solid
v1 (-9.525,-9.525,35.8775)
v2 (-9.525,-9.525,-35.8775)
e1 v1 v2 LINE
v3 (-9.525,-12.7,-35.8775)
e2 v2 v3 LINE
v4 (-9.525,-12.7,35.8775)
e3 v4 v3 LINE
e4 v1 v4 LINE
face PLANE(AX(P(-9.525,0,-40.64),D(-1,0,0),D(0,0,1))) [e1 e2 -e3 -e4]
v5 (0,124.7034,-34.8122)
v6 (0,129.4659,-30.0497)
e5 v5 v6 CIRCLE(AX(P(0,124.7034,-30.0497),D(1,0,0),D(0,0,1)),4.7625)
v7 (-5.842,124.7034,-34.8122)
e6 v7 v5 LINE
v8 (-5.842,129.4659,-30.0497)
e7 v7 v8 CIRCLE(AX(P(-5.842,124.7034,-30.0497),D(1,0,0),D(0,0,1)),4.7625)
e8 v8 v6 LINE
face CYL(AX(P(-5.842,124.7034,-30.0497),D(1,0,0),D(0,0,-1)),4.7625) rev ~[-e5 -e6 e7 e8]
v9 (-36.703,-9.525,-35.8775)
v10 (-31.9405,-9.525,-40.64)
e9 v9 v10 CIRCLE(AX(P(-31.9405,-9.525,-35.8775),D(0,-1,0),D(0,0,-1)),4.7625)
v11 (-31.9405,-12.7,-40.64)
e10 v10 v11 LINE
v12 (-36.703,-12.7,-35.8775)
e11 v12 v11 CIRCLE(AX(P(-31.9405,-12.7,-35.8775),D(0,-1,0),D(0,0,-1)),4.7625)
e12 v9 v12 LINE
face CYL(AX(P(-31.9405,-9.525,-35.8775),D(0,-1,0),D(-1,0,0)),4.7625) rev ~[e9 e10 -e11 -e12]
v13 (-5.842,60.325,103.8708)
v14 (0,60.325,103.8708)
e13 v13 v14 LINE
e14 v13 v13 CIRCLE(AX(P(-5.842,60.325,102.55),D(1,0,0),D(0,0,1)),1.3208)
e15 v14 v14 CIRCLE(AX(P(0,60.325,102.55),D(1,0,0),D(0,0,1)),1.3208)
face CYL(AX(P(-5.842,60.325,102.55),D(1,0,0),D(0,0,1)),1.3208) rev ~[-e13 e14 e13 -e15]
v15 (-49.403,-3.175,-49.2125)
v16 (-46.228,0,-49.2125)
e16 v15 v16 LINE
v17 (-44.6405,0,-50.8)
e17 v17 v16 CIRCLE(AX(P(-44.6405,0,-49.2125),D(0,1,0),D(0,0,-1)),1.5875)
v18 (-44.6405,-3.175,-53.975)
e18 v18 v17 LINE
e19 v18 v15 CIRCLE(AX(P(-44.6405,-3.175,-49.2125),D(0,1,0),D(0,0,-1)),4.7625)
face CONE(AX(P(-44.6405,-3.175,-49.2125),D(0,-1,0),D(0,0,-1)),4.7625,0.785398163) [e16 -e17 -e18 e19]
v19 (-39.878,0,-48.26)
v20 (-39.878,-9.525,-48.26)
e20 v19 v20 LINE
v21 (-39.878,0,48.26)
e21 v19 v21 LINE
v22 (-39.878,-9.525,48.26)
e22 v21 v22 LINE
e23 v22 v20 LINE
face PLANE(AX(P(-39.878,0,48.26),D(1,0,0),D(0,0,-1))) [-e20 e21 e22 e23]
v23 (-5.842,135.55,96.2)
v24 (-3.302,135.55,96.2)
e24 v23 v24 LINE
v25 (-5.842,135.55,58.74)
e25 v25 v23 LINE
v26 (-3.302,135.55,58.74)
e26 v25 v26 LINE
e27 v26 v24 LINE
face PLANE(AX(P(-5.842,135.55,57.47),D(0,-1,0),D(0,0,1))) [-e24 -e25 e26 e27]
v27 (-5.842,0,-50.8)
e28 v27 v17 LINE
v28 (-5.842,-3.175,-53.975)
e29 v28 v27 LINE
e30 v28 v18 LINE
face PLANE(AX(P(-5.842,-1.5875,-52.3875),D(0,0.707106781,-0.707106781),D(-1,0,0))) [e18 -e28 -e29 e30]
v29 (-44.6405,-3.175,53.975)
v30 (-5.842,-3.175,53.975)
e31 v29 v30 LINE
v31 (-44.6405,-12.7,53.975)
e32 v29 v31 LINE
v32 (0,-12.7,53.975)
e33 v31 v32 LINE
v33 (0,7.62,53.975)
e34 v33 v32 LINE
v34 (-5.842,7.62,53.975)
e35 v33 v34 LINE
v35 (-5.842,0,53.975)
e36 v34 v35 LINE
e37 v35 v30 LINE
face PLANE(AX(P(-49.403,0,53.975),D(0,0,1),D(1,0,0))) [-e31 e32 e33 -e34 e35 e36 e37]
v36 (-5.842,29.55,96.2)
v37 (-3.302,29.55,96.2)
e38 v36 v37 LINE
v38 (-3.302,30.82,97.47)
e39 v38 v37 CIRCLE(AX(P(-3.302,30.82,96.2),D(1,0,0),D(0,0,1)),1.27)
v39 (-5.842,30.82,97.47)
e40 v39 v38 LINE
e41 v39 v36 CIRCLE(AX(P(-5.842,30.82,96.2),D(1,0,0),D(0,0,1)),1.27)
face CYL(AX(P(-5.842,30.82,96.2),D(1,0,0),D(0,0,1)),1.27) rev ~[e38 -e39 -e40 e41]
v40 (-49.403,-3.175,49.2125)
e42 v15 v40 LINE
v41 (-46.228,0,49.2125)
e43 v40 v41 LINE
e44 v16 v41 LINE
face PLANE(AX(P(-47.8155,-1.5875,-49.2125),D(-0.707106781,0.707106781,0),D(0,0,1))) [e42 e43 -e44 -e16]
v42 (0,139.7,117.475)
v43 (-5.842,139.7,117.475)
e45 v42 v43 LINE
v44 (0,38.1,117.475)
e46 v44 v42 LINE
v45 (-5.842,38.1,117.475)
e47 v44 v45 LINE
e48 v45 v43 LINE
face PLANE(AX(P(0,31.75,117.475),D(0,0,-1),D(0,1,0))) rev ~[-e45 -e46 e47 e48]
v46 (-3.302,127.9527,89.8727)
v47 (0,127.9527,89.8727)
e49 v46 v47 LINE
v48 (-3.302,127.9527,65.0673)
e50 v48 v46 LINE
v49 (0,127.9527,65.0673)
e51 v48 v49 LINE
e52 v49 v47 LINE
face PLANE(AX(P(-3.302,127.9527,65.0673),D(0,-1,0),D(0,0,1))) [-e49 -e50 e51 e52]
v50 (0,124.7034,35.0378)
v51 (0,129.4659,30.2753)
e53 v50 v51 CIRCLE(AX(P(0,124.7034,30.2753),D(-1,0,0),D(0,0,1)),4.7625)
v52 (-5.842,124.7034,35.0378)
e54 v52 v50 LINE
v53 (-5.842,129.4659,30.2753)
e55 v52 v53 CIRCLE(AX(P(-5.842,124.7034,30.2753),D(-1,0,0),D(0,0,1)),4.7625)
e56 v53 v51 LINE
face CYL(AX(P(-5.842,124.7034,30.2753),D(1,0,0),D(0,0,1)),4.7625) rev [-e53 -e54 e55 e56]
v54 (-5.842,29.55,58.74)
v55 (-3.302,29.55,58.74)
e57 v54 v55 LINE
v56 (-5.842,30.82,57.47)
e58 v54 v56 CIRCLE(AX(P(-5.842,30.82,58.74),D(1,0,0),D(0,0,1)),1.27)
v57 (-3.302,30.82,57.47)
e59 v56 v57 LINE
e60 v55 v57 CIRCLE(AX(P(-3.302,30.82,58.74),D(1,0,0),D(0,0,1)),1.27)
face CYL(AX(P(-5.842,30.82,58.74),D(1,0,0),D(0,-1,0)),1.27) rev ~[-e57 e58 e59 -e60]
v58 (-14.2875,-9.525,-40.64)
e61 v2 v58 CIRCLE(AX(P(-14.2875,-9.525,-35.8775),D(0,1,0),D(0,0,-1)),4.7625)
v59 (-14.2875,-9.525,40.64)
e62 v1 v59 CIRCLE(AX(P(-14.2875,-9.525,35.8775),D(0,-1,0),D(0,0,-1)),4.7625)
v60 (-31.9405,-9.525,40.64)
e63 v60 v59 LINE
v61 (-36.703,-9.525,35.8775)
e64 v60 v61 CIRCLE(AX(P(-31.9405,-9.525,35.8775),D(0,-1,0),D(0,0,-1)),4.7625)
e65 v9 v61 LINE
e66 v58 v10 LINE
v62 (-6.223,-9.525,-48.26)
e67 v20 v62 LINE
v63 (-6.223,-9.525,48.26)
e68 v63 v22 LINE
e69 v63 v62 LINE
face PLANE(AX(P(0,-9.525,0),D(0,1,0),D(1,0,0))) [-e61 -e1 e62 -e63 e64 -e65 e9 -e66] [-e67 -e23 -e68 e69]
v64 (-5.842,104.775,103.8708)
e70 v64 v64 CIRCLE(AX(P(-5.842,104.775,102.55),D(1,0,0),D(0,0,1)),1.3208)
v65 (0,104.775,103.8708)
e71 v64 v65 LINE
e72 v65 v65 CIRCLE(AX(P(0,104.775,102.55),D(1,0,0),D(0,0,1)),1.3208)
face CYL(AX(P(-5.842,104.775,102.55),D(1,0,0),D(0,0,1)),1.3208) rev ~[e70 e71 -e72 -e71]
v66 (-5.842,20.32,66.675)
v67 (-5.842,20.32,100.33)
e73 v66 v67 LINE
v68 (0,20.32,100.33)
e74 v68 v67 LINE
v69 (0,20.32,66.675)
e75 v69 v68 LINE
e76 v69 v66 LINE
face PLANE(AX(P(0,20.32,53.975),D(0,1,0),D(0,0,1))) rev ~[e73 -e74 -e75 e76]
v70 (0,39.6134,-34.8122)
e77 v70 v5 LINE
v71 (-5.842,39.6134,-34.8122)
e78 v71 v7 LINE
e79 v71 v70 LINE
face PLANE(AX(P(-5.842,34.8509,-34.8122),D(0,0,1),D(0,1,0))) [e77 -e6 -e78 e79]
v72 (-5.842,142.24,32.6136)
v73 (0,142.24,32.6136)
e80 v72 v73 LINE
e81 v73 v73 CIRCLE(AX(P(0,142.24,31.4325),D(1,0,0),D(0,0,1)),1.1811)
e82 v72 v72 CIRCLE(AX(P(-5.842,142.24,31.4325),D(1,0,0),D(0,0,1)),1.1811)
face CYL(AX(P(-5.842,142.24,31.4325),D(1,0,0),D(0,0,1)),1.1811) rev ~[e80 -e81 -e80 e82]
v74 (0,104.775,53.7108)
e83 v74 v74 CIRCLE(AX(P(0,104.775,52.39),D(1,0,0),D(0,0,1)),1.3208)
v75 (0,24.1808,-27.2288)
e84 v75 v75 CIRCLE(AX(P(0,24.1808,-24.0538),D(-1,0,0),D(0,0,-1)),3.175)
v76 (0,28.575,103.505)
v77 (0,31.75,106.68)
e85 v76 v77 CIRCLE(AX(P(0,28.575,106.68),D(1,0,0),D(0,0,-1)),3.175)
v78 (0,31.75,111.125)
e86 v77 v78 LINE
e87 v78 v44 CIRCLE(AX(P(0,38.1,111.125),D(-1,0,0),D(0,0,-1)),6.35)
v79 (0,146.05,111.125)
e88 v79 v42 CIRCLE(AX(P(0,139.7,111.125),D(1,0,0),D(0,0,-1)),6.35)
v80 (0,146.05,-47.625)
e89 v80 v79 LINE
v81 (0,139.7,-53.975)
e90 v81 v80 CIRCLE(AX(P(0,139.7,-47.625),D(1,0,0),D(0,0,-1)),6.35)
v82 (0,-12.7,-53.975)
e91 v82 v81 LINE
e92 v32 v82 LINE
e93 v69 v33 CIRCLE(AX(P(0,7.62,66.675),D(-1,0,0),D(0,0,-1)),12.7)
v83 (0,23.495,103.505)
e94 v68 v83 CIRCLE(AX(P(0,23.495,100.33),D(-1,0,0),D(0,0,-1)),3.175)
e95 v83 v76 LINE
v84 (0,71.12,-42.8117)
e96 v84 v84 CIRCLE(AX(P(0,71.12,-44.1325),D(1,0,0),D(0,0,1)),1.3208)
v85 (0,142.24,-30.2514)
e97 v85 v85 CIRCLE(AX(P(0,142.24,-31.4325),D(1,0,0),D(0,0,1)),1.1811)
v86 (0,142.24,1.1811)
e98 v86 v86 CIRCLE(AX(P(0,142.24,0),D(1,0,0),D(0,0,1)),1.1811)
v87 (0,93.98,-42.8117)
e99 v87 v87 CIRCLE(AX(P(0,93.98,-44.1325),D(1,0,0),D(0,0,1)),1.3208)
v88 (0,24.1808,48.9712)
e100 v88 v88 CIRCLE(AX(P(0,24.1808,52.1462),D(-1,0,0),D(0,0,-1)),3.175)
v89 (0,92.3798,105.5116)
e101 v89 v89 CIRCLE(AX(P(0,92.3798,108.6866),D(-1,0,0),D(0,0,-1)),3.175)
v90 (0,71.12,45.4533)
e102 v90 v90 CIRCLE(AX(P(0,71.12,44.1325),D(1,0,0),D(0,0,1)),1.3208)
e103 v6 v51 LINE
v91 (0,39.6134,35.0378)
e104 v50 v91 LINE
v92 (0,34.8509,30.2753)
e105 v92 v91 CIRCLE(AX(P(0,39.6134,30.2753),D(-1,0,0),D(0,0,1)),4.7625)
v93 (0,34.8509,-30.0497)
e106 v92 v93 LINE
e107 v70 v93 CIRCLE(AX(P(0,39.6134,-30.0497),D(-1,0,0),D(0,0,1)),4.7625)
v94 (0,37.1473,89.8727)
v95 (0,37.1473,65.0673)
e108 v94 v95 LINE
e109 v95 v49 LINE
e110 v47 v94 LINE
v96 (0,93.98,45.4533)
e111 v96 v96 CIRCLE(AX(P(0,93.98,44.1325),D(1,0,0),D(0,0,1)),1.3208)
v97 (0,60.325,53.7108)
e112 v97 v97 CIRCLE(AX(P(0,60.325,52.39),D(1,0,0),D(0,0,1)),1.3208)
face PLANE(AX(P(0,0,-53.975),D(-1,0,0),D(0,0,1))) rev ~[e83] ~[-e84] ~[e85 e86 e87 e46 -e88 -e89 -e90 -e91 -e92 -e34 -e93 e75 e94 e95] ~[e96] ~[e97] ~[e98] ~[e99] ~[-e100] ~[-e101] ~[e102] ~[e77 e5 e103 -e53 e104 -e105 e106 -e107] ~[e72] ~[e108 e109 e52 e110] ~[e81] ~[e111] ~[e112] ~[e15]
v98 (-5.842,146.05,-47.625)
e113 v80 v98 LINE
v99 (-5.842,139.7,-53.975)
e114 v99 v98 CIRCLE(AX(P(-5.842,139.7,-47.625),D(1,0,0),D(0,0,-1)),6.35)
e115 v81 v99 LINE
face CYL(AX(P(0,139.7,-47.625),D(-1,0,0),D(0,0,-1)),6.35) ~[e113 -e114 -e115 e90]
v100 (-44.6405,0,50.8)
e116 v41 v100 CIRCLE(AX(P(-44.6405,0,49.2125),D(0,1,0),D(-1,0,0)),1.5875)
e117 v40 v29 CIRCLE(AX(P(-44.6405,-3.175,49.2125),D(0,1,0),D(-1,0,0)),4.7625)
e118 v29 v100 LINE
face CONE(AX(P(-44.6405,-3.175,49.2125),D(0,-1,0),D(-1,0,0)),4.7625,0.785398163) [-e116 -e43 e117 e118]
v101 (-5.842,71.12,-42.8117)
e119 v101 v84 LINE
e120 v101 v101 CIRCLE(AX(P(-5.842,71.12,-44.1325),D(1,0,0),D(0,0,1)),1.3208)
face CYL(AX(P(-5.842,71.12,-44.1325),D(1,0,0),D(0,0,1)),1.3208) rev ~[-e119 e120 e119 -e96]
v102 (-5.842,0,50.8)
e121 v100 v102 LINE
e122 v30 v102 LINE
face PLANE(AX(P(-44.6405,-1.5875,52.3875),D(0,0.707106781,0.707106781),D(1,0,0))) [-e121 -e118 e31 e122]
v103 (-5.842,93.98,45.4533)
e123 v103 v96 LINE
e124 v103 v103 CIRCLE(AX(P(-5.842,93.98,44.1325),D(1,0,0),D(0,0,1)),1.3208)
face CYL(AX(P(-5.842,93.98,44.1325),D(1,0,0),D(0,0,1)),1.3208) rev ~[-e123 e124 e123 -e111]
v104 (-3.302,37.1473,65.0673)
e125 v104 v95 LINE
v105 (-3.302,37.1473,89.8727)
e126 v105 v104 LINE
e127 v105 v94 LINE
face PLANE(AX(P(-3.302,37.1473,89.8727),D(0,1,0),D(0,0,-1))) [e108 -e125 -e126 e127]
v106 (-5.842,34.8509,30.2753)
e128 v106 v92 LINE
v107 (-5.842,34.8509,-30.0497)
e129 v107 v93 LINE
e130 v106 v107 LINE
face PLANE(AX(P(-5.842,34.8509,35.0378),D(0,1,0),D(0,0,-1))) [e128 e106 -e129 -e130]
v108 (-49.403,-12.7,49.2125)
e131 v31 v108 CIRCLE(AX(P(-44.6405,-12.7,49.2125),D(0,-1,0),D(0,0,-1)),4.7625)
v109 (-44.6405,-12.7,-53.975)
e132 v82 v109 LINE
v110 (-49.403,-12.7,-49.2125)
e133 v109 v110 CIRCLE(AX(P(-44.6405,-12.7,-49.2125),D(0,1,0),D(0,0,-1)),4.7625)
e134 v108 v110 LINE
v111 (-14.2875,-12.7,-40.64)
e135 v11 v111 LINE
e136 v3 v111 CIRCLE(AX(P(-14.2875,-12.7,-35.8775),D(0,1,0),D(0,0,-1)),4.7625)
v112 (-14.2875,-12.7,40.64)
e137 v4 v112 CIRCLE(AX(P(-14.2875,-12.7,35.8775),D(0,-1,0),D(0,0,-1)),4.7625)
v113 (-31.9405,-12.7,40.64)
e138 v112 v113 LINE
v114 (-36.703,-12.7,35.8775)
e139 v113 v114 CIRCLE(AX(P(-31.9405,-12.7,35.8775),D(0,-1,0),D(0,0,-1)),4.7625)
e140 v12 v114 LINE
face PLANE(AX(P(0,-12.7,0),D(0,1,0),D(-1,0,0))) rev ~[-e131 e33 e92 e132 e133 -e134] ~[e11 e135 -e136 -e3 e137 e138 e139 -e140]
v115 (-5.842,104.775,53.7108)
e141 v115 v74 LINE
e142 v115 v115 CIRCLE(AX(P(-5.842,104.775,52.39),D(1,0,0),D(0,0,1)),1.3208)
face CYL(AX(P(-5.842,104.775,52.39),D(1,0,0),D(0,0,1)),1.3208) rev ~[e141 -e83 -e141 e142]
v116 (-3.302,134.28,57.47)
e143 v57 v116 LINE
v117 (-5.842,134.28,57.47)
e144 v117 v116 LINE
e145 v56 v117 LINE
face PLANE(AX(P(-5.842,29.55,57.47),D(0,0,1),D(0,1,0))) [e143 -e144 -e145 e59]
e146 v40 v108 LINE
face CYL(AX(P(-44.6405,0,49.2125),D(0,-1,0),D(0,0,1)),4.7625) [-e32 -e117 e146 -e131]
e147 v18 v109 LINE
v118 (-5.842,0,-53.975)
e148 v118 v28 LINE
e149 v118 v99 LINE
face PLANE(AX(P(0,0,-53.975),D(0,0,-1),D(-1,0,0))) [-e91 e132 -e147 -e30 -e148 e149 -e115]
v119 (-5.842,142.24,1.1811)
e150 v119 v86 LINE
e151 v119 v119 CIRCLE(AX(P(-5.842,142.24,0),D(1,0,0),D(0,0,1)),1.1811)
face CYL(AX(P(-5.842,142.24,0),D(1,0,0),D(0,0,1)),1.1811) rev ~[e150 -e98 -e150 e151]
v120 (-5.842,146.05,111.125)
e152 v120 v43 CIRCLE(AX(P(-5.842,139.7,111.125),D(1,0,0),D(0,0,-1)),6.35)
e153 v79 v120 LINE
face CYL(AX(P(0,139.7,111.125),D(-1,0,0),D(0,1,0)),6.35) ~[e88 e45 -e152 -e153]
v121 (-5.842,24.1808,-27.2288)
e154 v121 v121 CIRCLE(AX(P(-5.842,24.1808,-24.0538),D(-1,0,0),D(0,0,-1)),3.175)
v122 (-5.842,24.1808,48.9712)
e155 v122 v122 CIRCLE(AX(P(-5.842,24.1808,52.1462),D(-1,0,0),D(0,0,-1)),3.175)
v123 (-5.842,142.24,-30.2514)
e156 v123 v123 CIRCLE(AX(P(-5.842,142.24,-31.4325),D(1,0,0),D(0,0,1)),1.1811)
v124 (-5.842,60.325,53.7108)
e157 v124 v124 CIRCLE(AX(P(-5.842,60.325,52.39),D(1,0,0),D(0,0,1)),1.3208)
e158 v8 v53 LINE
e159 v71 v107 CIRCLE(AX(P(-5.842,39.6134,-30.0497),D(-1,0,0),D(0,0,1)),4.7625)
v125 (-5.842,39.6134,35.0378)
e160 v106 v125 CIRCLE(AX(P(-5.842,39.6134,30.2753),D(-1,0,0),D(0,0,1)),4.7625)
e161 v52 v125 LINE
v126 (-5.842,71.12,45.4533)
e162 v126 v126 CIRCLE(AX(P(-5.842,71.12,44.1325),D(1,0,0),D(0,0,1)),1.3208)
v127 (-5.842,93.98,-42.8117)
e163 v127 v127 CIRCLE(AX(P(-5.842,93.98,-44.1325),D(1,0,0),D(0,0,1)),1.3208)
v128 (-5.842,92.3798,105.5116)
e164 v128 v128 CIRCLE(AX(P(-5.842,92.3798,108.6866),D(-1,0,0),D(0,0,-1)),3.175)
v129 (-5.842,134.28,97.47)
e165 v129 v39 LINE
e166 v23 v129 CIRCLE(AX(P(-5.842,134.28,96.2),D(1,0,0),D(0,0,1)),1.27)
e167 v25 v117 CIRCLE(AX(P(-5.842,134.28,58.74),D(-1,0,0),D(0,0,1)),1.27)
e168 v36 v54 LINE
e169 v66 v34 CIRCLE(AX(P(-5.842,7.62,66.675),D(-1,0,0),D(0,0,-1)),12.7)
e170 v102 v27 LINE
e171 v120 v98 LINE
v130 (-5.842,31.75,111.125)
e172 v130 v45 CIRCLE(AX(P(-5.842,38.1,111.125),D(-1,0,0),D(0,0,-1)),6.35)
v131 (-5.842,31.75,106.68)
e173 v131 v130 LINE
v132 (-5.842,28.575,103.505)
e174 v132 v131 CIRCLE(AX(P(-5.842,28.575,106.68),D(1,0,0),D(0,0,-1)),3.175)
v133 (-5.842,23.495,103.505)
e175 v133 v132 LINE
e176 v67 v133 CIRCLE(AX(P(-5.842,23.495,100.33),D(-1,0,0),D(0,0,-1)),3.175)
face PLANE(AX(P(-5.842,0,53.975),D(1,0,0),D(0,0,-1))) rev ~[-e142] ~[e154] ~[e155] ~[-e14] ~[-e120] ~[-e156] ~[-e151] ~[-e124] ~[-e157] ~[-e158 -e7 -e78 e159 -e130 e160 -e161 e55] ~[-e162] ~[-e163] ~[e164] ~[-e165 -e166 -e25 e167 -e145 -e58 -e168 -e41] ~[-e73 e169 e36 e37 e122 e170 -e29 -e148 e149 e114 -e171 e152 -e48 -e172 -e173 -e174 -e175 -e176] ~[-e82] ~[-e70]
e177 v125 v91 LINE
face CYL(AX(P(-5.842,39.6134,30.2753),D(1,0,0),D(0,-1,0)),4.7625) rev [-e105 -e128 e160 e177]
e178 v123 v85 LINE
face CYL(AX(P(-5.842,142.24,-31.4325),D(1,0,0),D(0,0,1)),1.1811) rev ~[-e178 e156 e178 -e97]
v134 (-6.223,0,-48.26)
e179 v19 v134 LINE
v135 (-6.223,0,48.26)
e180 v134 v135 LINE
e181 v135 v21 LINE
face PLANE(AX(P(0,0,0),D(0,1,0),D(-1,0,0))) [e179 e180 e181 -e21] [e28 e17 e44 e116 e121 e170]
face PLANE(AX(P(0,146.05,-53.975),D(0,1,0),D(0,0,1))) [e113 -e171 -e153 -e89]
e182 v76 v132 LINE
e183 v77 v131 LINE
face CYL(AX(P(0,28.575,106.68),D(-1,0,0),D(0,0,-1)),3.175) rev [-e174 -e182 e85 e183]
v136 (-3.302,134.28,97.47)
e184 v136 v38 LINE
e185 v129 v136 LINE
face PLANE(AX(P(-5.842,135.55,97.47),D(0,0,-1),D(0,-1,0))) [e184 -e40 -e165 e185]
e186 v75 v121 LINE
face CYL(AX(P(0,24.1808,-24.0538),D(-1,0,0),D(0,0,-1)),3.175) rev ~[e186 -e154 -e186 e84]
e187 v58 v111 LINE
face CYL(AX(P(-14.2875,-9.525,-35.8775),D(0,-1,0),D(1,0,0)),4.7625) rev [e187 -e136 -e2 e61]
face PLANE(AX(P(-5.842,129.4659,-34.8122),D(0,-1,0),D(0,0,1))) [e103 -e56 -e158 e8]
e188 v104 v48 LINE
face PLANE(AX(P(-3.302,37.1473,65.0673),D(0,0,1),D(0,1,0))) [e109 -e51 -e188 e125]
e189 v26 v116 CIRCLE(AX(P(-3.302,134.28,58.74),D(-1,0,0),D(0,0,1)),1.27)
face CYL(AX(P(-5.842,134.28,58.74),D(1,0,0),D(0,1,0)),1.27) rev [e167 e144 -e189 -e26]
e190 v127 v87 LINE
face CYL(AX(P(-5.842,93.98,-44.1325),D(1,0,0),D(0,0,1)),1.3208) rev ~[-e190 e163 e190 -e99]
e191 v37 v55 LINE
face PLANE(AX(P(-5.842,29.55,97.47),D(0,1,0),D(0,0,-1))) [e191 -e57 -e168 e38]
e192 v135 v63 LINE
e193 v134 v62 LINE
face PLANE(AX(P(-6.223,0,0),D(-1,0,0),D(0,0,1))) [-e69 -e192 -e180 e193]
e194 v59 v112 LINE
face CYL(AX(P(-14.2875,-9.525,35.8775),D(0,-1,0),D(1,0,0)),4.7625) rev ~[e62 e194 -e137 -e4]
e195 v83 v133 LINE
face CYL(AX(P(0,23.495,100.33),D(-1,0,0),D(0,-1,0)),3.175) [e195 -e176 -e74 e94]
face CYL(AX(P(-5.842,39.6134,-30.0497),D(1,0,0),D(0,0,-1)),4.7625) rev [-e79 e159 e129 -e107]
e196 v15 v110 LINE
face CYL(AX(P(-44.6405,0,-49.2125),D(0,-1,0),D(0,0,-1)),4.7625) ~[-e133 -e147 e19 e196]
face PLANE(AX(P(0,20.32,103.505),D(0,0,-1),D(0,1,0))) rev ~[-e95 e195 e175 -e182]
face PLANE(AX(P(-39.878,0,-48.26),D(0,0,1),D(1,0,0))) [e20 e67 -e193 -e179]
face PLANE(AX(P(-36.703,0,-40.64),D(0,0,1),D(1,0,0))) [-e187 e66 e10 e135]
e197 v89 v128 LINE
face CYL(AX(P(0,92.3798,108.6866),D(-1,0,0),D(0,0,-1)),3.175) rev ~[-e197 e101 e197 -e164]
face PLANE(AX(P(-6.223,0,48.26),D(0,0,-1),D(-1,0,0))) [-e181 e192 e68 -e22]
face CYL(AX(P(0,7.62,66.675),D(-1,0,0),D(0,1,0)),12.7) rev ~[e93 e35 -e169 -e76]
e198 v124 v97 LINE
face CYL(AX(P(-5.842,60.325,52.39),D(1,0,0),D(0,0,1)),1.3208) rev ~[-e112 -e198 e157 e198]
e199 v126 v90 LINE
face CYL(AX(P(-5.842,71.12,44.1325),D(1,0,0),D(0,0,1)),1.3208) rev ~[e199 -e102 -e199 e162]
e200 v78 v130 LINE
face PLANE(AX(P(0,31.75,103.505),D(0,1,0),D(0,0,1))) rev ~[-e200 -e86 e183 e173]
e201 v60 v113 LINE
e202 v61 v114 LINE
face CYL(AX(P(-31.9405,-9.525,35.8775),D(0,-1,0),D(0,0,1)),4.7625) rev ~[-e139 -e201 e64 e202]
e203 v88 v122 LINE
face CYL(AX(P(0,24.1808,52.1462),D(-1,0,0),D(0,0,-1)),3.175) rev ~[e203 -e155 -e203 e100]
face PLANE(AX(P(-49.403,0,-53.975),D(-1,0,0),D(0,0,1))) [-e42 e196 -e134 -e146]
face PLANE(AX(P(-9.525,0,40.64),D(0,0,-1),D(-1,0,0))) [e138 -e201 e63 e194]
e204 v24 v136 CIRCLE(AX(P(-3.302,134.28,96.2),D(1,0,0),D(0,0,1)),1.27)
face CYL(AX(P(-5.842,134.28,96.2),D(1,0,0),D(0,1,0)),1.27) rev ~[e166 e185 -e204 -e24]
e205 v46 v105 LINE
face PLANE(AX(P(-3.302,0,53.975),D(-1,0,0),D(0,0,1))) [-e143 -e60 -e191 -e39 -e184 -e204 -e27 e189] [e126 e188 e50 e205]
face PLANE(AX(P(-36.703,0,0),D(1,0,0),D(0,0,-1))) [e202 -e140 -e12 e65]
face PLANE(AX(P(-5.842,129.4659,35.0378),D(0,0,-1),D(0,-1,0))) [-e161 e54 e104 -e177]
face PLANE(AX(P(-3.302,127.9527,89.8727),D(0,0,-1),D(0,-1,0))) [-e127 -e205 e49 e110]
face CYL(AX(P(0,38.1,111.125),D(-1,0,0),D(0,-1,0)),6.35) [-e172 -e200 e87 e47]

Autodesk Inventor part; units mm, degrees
ref_plane "YZ Plane" through (0, 0, 0) normal (1, 0, 0) x (0, 1, 0)
ref_plane "XZ Plane" through (0, 0, 0) normal (0, 1, 0) x (-1, 0, 0)
ref_plane "XY Plane" through (0, 0, 0) normal (0, 0, 1) x (1, 0, 0)
sketch "Sketch1" plane through (0, 0, 0) normal (0, 1, 0) x (-1, 0, 0)
  line L0 (0, -75.565) -> (0, 75.565) projected
  line L1 (-9.8806, 0) -> (59.2836, 0) projected
  line L2 (36.703, -40.64) -> (9.525, -40.64)
  line L3 (9.525, -40.64) -> (9.525, 40.64)
  line L4 (9.525, 40.64) -> (36.703, 40.64)
  line L5 (36.703, 40.64) -> (36.703, -40.64)
  line L6 (36.703, -40.64) -> (9.525, 40.64) construction
  line L7 (9.525, -40.64) -> (36.703, 40.64) construction
  line L8 (0, -53.975) -> (49.403, -53.975)
  line L9 (49.403, -53.975) -> (49.403, 53.975)
  line L10 (49.403, 53.975) -> (0, 53.975)
  line L11 (0, 53.975) -> (0, -53.975)
  line L12 (0, -53.975) -> (49.403, 53.975) construction
  line L13 (49.403, -53.975) -> (0, 53.975) construction
  point P0 (0, 0)
  point P1 (23.114, 0)
  point P2 (24.7015, 0)
  dimension "d0" = 81.28
  dimension "d1" = 27.178
  dimension "d3" = 107.95
  dimension "d4" = 12.7
  dimension "d6" = 9.525
  dimension "d7" = 0
extrude "Extrusion1" add sketch "Sketch1" against normal blind 12.7 contours L0 L1 L3 L2 L5 L9 L8 | L0 L10 L9 L1 L5 L4 L3
sketch "Sketch2" plane through (0, 0, 0) normal (0, 1, 0) x (1, 0, 0)
  point P0 (0, 0)
sketch "Sketch4" plane through (0, 0, 0) normal (0, 1, 0) x (1, 0, 0)
  point P0 (0, 0)
sketch "Sketch5" plane through (0, 0, 0) normal (0, 1, 0) x (1, 0, 0)
  line L0 (9.8806, 0) -> (-59.2836, 0) projected
  line L1 (0, 75.565) -> (0, -75.565) projected
  line L2 (-39.878, 48.26) -> (-6.223, 48.26)
  line L3 (-6.223, 48.26) -> (-6.223, -48.26)
  line L4 (-6.223, -48.26) -> (-39.878, -48.26)
  line L5 (-39.878, -48.26) -> (-39.878, 48.26)
  line L6 (-39.878, 48.26) -> (-6.223, -48.26) construction
  line L7 (-6.223, 48.26) -> (-39.878, -48.26) construction
  line L8 (-9.525, 40.64) -> (-9.525, -40.64) projected
  point P0 (0, 0)
  point P1 (-23.0505, 0)
  dimension "d13" = 3.302
  dimension "d14" = 96.52
  dimension "d15" = 33.655
extrude "Extrusion3" cut sketch "Sketch5" against normal blind 9.525
sketch "Sketch3" plane through (0, 0, 53.975) normal (1, 0, 0) x (0, 0, -1)
  line L0 (0, 0) -> (0, -12.7) projected
  line L1 (0, 0) -> (107.95, 0) projected
  line L2 (107.95, 0) -> (107.95, -12.7) projected
  line L3 (107.95, 146.05) -> (0, 146.05)
  line L4 (0, 146.05) -> (0, 0)
  line L5 (0, 0) -> (107.95, 0)
  line L6 (107.95, 0) -> (107.95, 146.05)
  line L7 (107.95, 146.05) -> (0, 0) construction
  line L8 (0, 146.05) -> (107.95, 0) construction
  line L9 (0, 20.32) -> (-63.5, 20.32)
  line L10 (-63.5, 20.32) -> (-63.5, 146.05)
  line L11 (-63.5, 146.05) -> (0, 146.05)
  line L12 (107.95, -12.7) -> (0, -12.7) projected
  line L13 (-49.53, 20.32) -> (-49.53, 31.75)
  line L14 (-49.53, 31.75) -> (-63.5, 31.75)
  point P0 (53.975, 0)
  point P1 (53.975, 73.025)
  point P2 (1.8288, 24.1808)
  point P3 (78.0288, 24.1808)
  point P4 (-54.7116, 92.3798)
  dimension "d10" = 146.05
  dimension "d18" = 33.02
  dimension "d19" = 63.5
  dimension "d20" = 13.97
  dimension "d21" = 11.43
  dimension "d22" = 36.8808
  dimension "d23" = 29.9212
  dimension "d24" = 106.1212
  dimension "d32" = 162.6616
  dimension "d33" = 105.0798
extrude "Extrusion2" add sketch "Sketch3" against normal blind 5.842 contours L4 L3 L6 L1 | L9 L13 L14 L10 L11 L4
hole "Hole1" at (0, 24.1808, -24.0538) at (0, 24.1808, 52.1462) at (0, 92.3798, 108.6866) direction (-1, 0, 0) diameter 6.35 end through all
sketch "Sketch6" plane through (-5.842, 0, 53.975) normal (-1, 0, 0) x (0, 0, 1)
  line L0 (3.495, 135.55) -> (43.495, 135.55)
  line L1 (43.495, 135.55) -> (43.495, 29.55)
  line L2 (43.495, 29.55) -> (3.495, 29.55)
  line L3 (3.495, 29.55) -> (3.495, 135.55)
  line L4 (3.495, 135.55) -> (43.495, 29.55) construction
  line L5 (43.495, 135.55) -> (3.495, 29.55) construction
  line L6 (0, -12.7) -> (-107.95, -12.7) projected
  line L7 (-107.95, 0) -> (-107.95, -12.7) projected
  line L8 (48.575, 104.775) -> (-1.585, 104.775) construction
  line L9 (-1.585, 104.775) -> (-1.585, 60.325) construction
  line L10 (-1.585, 60.325) -> (48.575, 60.325) construction
  line L11 (48.575, 60.325) -> (48.575, 104.775) construction
  line L12 (48.575, 104.775) -> (-1.585, 60.325) construction
  line L13 (-1.585, 104.775) -> (48.575, 60.325) construction
  line L14 (-53.975, 177.8) -> (-53.975, -44.45) construction
  line L15 (-142.24, 0) -> (97.79, 0) construction
  line L16 (-98.1075, 93.98) -> (-9.8425, 93.98) construction
  line L17 (-9.8425, 93.98) -> (-9.8425, 71.12) construction
  line L18 (-9.8425, 71.12) -> (-98.1075, 71.12) construction
  line L19 (-98.1075, 71.12) -> (-98.1075, 93.98) construction
  line L20 (-98.1075, 93.98) -> (-9.8425, 71.12) construction
  line L21 (-9.8425, 93.98) -> (-98.1075, 71.12) construction
  point P0 (-53.975, 0)
  point P1 (23.495, 82.55)
  point P2 (-53.975, 82.55)
  dimension "d36" = 40
  dimension "d37" = 106
  dimension "d38" = 95.25
  dimension "d39" = 131.445
  dimension "d43" = 5.08
  dimension "d44" = 44.45
  dimension "d45" = 88.265
  dimension "d46" = 22.86
  dimension "d47" = 106.68
extrude "Extrusion4" cut sketch "Sketch6" against normal blind 2.54
fillet "Fillet3" radius 1.27 4 edges at (-4.572, 29.55, 97.47) (-4.572, 29.55, 57.47) (-4.572, 135.55, 57.47) (-4.572, 135.55, 97.47)
hole "Hole2" at (-5.842, 93.98, 44.1325) at (-5.842, 71.12, 44.1325) at (-5.842, 71.12, -44.1325) at (-5.842, 93.98, -44.1325) at (-5.842, 104.775, 52.39) at (-5.842, 60.325, 52.39) at (-5.842, 60.325, 102.55) at (-5.842, 104.775, 102.55) direction (1, 0, 0) diameter 2.6416 end through all thread size "6-32 UNC" class "2B" standard "ANSI Unified Screw Threads"
fillet "Fillet1" radius 3.175 2 edges at (-2.921, 31.75, 103.505) (-2.921, 20.32, 103.505)
fillet "Fillet2" radius 12.7 1 edges at (-2.921, 20.32, 53.975)
sketch "Sketch7" plane through (-5.842, 0, 53.975) normal (-1, 0, 0) x (0, 0, 1)
  line L0 (-98.1075, 93.98) -> (-9.8425, 93.98) construction
  circle A0 centre (-9.8425, 93.98) radius 1.3208 construction
  line L1 (-98.1075, 142.24) -> (-9.8425, 142.24) construction
  line L2 (-9.8425, 142.24) -> (-9.8425, 93.98) construction
  line L3 (-9.8425, 93.98) -> (-98.1075, 93.98) construction
  line L4 (-98.1075, 93.98) -> (-98.1075, 142.24) construction
  line L5 (-98.1075, 142.24) -> (-9.8425, 93.98) construction
  line L6 (-9.8425, 142.24) -> (-98.1075, 93.98) construction
  line L7 (63.5, 146.05) -> (-107.95, 146.05) construction
  point P0 (-53.975, 0)
  point P1 (-53.975, 118.11)
  point P2 (-53.975, 142.24)
  point P3 (-22.5425, 142.24)
  point P4 (-85.4075, 142.24)
  dimension "d55" = 3.81
  dimension "d75" = 12.7
  dimension "d76" = 12.7
hole "Hole3" at (-5.842, 142.24, 0) at (-5.842, 142.24, 31.4325) at (-5.842, 142.24, -31.4325) direction (1, 0, 0) diameter 2.3622 end through all
fillet "Fillet4" radius 6.35 3 edges at (-2.921, 146.05, 117.475) (-2.921, 146.05, -53.975) (-2.921, 31.75, 117.475)
fillet "Fillet5" radius 4.7625 2 edges at (-49.403, -6.35, 53.975) (-49.403, -6.35, -53.975)
sketch "Sketch8" plane through (-5.842, 0, 53.975) normal (-1, 0, 0) x (0, 0, 1)
  line L0 (-88.7872, 129.4659) -> (-18.9372, 129.4659)
  line L1 (-18.9372, 129.4659) -> (-18.9372, 34.8509)
  line L2 (-18.9372, 34.8509) -> (-88.7872, 34.8509)
  line L3 (-88.7872, 34.8509) -> (-88.7872, 129.4659)
  line L4 (-88.7872, 129.4659) -> (-18.9372, 34.8509) construction
  line L5 (-18.9372, 129.4659) -> (-88.7872, 34.8509) construction
  point P0 (-53.975, 0)
  point P1 (-53.8622, 82.1584)
  dimension "d65" = 69.85
  dimension "d66" = 94.615
extrude "Extrusion5" cut sketch "Sketch8" against normal through all
fillet "Fillet6" radius 4.7625 4 edges at (-2.921, 129.4659, 35.0378) (-2.921, 34.8509, -34.8122) (-2.921, 129.4659, -34.8122) (-2.921, 34.8509, 35.0378)
sketch "Sketch9" plane through (-3.302, 0, 53.975) normal (-1, 0, 0) x (0, 0, 1)
  arc A0 (43.495, 134.28) -> (42.225, 135.55) centre (42.225, 134.28) ccw projected
  line L0 (4.765, 135.55) -> (42.225, 135.55) projected
  arc A1 (4.765, 135.55) -> (3.495, 134.28) centre (4.765, 134.28) ccw projected
  line L1 (3.495, 30.82) -> (3.495, 134.28) projected
  arc A2 (3.495, 30.82) -> (4.765, 29.55) centre (4.765, 30.82) ccw projected
  line L2 (42.225, 29.55) -> (4.765, 29.55) projected
  arc A3 (42.225, 29.55) -> (43.495, 30.82) centre (42.225, 30.82) ccw projected
  line L3 (43.495, 134.28) -> (43.495, 30.82) projected
  line L4 (11.0923, 37.1473) -> (11.0923, 127.9527)
  line L5 (11.0923, 127.9527) -> (35.8977, 127.9527)
  line L6 (35.8977, 127.9527) -> (35.8977, 37.1473)
  line L7 (35.8977, 37.1473) -> (11.0923, 37.1473)
  point P0 (-53.975, 0)
  point P1 (23.495, 82.55)
extrude "Extrusion6" cut sketch "Sketch9" against normal through all contours L4 L5 L6 L7
chamfer "Chamfer1" distance 3.175 angle 45 5 edges at (-25.2413, 0, -53.975) (-48.0081, 0, -52.5801) (-49.403, 0, 0) (-48.0081, 0, 52.5801) (-25.2412, 0, 53.975)
fillet "Fillet7" radius 4.7625 4 edges at (-36.703, -11.1125, 40.64) (-9.525, -11.1125, 40.64) (-9.525, -11.1125, -40.64) (-36.703, -11.1125, -40.64)
properties material "ABS, BLACK"
